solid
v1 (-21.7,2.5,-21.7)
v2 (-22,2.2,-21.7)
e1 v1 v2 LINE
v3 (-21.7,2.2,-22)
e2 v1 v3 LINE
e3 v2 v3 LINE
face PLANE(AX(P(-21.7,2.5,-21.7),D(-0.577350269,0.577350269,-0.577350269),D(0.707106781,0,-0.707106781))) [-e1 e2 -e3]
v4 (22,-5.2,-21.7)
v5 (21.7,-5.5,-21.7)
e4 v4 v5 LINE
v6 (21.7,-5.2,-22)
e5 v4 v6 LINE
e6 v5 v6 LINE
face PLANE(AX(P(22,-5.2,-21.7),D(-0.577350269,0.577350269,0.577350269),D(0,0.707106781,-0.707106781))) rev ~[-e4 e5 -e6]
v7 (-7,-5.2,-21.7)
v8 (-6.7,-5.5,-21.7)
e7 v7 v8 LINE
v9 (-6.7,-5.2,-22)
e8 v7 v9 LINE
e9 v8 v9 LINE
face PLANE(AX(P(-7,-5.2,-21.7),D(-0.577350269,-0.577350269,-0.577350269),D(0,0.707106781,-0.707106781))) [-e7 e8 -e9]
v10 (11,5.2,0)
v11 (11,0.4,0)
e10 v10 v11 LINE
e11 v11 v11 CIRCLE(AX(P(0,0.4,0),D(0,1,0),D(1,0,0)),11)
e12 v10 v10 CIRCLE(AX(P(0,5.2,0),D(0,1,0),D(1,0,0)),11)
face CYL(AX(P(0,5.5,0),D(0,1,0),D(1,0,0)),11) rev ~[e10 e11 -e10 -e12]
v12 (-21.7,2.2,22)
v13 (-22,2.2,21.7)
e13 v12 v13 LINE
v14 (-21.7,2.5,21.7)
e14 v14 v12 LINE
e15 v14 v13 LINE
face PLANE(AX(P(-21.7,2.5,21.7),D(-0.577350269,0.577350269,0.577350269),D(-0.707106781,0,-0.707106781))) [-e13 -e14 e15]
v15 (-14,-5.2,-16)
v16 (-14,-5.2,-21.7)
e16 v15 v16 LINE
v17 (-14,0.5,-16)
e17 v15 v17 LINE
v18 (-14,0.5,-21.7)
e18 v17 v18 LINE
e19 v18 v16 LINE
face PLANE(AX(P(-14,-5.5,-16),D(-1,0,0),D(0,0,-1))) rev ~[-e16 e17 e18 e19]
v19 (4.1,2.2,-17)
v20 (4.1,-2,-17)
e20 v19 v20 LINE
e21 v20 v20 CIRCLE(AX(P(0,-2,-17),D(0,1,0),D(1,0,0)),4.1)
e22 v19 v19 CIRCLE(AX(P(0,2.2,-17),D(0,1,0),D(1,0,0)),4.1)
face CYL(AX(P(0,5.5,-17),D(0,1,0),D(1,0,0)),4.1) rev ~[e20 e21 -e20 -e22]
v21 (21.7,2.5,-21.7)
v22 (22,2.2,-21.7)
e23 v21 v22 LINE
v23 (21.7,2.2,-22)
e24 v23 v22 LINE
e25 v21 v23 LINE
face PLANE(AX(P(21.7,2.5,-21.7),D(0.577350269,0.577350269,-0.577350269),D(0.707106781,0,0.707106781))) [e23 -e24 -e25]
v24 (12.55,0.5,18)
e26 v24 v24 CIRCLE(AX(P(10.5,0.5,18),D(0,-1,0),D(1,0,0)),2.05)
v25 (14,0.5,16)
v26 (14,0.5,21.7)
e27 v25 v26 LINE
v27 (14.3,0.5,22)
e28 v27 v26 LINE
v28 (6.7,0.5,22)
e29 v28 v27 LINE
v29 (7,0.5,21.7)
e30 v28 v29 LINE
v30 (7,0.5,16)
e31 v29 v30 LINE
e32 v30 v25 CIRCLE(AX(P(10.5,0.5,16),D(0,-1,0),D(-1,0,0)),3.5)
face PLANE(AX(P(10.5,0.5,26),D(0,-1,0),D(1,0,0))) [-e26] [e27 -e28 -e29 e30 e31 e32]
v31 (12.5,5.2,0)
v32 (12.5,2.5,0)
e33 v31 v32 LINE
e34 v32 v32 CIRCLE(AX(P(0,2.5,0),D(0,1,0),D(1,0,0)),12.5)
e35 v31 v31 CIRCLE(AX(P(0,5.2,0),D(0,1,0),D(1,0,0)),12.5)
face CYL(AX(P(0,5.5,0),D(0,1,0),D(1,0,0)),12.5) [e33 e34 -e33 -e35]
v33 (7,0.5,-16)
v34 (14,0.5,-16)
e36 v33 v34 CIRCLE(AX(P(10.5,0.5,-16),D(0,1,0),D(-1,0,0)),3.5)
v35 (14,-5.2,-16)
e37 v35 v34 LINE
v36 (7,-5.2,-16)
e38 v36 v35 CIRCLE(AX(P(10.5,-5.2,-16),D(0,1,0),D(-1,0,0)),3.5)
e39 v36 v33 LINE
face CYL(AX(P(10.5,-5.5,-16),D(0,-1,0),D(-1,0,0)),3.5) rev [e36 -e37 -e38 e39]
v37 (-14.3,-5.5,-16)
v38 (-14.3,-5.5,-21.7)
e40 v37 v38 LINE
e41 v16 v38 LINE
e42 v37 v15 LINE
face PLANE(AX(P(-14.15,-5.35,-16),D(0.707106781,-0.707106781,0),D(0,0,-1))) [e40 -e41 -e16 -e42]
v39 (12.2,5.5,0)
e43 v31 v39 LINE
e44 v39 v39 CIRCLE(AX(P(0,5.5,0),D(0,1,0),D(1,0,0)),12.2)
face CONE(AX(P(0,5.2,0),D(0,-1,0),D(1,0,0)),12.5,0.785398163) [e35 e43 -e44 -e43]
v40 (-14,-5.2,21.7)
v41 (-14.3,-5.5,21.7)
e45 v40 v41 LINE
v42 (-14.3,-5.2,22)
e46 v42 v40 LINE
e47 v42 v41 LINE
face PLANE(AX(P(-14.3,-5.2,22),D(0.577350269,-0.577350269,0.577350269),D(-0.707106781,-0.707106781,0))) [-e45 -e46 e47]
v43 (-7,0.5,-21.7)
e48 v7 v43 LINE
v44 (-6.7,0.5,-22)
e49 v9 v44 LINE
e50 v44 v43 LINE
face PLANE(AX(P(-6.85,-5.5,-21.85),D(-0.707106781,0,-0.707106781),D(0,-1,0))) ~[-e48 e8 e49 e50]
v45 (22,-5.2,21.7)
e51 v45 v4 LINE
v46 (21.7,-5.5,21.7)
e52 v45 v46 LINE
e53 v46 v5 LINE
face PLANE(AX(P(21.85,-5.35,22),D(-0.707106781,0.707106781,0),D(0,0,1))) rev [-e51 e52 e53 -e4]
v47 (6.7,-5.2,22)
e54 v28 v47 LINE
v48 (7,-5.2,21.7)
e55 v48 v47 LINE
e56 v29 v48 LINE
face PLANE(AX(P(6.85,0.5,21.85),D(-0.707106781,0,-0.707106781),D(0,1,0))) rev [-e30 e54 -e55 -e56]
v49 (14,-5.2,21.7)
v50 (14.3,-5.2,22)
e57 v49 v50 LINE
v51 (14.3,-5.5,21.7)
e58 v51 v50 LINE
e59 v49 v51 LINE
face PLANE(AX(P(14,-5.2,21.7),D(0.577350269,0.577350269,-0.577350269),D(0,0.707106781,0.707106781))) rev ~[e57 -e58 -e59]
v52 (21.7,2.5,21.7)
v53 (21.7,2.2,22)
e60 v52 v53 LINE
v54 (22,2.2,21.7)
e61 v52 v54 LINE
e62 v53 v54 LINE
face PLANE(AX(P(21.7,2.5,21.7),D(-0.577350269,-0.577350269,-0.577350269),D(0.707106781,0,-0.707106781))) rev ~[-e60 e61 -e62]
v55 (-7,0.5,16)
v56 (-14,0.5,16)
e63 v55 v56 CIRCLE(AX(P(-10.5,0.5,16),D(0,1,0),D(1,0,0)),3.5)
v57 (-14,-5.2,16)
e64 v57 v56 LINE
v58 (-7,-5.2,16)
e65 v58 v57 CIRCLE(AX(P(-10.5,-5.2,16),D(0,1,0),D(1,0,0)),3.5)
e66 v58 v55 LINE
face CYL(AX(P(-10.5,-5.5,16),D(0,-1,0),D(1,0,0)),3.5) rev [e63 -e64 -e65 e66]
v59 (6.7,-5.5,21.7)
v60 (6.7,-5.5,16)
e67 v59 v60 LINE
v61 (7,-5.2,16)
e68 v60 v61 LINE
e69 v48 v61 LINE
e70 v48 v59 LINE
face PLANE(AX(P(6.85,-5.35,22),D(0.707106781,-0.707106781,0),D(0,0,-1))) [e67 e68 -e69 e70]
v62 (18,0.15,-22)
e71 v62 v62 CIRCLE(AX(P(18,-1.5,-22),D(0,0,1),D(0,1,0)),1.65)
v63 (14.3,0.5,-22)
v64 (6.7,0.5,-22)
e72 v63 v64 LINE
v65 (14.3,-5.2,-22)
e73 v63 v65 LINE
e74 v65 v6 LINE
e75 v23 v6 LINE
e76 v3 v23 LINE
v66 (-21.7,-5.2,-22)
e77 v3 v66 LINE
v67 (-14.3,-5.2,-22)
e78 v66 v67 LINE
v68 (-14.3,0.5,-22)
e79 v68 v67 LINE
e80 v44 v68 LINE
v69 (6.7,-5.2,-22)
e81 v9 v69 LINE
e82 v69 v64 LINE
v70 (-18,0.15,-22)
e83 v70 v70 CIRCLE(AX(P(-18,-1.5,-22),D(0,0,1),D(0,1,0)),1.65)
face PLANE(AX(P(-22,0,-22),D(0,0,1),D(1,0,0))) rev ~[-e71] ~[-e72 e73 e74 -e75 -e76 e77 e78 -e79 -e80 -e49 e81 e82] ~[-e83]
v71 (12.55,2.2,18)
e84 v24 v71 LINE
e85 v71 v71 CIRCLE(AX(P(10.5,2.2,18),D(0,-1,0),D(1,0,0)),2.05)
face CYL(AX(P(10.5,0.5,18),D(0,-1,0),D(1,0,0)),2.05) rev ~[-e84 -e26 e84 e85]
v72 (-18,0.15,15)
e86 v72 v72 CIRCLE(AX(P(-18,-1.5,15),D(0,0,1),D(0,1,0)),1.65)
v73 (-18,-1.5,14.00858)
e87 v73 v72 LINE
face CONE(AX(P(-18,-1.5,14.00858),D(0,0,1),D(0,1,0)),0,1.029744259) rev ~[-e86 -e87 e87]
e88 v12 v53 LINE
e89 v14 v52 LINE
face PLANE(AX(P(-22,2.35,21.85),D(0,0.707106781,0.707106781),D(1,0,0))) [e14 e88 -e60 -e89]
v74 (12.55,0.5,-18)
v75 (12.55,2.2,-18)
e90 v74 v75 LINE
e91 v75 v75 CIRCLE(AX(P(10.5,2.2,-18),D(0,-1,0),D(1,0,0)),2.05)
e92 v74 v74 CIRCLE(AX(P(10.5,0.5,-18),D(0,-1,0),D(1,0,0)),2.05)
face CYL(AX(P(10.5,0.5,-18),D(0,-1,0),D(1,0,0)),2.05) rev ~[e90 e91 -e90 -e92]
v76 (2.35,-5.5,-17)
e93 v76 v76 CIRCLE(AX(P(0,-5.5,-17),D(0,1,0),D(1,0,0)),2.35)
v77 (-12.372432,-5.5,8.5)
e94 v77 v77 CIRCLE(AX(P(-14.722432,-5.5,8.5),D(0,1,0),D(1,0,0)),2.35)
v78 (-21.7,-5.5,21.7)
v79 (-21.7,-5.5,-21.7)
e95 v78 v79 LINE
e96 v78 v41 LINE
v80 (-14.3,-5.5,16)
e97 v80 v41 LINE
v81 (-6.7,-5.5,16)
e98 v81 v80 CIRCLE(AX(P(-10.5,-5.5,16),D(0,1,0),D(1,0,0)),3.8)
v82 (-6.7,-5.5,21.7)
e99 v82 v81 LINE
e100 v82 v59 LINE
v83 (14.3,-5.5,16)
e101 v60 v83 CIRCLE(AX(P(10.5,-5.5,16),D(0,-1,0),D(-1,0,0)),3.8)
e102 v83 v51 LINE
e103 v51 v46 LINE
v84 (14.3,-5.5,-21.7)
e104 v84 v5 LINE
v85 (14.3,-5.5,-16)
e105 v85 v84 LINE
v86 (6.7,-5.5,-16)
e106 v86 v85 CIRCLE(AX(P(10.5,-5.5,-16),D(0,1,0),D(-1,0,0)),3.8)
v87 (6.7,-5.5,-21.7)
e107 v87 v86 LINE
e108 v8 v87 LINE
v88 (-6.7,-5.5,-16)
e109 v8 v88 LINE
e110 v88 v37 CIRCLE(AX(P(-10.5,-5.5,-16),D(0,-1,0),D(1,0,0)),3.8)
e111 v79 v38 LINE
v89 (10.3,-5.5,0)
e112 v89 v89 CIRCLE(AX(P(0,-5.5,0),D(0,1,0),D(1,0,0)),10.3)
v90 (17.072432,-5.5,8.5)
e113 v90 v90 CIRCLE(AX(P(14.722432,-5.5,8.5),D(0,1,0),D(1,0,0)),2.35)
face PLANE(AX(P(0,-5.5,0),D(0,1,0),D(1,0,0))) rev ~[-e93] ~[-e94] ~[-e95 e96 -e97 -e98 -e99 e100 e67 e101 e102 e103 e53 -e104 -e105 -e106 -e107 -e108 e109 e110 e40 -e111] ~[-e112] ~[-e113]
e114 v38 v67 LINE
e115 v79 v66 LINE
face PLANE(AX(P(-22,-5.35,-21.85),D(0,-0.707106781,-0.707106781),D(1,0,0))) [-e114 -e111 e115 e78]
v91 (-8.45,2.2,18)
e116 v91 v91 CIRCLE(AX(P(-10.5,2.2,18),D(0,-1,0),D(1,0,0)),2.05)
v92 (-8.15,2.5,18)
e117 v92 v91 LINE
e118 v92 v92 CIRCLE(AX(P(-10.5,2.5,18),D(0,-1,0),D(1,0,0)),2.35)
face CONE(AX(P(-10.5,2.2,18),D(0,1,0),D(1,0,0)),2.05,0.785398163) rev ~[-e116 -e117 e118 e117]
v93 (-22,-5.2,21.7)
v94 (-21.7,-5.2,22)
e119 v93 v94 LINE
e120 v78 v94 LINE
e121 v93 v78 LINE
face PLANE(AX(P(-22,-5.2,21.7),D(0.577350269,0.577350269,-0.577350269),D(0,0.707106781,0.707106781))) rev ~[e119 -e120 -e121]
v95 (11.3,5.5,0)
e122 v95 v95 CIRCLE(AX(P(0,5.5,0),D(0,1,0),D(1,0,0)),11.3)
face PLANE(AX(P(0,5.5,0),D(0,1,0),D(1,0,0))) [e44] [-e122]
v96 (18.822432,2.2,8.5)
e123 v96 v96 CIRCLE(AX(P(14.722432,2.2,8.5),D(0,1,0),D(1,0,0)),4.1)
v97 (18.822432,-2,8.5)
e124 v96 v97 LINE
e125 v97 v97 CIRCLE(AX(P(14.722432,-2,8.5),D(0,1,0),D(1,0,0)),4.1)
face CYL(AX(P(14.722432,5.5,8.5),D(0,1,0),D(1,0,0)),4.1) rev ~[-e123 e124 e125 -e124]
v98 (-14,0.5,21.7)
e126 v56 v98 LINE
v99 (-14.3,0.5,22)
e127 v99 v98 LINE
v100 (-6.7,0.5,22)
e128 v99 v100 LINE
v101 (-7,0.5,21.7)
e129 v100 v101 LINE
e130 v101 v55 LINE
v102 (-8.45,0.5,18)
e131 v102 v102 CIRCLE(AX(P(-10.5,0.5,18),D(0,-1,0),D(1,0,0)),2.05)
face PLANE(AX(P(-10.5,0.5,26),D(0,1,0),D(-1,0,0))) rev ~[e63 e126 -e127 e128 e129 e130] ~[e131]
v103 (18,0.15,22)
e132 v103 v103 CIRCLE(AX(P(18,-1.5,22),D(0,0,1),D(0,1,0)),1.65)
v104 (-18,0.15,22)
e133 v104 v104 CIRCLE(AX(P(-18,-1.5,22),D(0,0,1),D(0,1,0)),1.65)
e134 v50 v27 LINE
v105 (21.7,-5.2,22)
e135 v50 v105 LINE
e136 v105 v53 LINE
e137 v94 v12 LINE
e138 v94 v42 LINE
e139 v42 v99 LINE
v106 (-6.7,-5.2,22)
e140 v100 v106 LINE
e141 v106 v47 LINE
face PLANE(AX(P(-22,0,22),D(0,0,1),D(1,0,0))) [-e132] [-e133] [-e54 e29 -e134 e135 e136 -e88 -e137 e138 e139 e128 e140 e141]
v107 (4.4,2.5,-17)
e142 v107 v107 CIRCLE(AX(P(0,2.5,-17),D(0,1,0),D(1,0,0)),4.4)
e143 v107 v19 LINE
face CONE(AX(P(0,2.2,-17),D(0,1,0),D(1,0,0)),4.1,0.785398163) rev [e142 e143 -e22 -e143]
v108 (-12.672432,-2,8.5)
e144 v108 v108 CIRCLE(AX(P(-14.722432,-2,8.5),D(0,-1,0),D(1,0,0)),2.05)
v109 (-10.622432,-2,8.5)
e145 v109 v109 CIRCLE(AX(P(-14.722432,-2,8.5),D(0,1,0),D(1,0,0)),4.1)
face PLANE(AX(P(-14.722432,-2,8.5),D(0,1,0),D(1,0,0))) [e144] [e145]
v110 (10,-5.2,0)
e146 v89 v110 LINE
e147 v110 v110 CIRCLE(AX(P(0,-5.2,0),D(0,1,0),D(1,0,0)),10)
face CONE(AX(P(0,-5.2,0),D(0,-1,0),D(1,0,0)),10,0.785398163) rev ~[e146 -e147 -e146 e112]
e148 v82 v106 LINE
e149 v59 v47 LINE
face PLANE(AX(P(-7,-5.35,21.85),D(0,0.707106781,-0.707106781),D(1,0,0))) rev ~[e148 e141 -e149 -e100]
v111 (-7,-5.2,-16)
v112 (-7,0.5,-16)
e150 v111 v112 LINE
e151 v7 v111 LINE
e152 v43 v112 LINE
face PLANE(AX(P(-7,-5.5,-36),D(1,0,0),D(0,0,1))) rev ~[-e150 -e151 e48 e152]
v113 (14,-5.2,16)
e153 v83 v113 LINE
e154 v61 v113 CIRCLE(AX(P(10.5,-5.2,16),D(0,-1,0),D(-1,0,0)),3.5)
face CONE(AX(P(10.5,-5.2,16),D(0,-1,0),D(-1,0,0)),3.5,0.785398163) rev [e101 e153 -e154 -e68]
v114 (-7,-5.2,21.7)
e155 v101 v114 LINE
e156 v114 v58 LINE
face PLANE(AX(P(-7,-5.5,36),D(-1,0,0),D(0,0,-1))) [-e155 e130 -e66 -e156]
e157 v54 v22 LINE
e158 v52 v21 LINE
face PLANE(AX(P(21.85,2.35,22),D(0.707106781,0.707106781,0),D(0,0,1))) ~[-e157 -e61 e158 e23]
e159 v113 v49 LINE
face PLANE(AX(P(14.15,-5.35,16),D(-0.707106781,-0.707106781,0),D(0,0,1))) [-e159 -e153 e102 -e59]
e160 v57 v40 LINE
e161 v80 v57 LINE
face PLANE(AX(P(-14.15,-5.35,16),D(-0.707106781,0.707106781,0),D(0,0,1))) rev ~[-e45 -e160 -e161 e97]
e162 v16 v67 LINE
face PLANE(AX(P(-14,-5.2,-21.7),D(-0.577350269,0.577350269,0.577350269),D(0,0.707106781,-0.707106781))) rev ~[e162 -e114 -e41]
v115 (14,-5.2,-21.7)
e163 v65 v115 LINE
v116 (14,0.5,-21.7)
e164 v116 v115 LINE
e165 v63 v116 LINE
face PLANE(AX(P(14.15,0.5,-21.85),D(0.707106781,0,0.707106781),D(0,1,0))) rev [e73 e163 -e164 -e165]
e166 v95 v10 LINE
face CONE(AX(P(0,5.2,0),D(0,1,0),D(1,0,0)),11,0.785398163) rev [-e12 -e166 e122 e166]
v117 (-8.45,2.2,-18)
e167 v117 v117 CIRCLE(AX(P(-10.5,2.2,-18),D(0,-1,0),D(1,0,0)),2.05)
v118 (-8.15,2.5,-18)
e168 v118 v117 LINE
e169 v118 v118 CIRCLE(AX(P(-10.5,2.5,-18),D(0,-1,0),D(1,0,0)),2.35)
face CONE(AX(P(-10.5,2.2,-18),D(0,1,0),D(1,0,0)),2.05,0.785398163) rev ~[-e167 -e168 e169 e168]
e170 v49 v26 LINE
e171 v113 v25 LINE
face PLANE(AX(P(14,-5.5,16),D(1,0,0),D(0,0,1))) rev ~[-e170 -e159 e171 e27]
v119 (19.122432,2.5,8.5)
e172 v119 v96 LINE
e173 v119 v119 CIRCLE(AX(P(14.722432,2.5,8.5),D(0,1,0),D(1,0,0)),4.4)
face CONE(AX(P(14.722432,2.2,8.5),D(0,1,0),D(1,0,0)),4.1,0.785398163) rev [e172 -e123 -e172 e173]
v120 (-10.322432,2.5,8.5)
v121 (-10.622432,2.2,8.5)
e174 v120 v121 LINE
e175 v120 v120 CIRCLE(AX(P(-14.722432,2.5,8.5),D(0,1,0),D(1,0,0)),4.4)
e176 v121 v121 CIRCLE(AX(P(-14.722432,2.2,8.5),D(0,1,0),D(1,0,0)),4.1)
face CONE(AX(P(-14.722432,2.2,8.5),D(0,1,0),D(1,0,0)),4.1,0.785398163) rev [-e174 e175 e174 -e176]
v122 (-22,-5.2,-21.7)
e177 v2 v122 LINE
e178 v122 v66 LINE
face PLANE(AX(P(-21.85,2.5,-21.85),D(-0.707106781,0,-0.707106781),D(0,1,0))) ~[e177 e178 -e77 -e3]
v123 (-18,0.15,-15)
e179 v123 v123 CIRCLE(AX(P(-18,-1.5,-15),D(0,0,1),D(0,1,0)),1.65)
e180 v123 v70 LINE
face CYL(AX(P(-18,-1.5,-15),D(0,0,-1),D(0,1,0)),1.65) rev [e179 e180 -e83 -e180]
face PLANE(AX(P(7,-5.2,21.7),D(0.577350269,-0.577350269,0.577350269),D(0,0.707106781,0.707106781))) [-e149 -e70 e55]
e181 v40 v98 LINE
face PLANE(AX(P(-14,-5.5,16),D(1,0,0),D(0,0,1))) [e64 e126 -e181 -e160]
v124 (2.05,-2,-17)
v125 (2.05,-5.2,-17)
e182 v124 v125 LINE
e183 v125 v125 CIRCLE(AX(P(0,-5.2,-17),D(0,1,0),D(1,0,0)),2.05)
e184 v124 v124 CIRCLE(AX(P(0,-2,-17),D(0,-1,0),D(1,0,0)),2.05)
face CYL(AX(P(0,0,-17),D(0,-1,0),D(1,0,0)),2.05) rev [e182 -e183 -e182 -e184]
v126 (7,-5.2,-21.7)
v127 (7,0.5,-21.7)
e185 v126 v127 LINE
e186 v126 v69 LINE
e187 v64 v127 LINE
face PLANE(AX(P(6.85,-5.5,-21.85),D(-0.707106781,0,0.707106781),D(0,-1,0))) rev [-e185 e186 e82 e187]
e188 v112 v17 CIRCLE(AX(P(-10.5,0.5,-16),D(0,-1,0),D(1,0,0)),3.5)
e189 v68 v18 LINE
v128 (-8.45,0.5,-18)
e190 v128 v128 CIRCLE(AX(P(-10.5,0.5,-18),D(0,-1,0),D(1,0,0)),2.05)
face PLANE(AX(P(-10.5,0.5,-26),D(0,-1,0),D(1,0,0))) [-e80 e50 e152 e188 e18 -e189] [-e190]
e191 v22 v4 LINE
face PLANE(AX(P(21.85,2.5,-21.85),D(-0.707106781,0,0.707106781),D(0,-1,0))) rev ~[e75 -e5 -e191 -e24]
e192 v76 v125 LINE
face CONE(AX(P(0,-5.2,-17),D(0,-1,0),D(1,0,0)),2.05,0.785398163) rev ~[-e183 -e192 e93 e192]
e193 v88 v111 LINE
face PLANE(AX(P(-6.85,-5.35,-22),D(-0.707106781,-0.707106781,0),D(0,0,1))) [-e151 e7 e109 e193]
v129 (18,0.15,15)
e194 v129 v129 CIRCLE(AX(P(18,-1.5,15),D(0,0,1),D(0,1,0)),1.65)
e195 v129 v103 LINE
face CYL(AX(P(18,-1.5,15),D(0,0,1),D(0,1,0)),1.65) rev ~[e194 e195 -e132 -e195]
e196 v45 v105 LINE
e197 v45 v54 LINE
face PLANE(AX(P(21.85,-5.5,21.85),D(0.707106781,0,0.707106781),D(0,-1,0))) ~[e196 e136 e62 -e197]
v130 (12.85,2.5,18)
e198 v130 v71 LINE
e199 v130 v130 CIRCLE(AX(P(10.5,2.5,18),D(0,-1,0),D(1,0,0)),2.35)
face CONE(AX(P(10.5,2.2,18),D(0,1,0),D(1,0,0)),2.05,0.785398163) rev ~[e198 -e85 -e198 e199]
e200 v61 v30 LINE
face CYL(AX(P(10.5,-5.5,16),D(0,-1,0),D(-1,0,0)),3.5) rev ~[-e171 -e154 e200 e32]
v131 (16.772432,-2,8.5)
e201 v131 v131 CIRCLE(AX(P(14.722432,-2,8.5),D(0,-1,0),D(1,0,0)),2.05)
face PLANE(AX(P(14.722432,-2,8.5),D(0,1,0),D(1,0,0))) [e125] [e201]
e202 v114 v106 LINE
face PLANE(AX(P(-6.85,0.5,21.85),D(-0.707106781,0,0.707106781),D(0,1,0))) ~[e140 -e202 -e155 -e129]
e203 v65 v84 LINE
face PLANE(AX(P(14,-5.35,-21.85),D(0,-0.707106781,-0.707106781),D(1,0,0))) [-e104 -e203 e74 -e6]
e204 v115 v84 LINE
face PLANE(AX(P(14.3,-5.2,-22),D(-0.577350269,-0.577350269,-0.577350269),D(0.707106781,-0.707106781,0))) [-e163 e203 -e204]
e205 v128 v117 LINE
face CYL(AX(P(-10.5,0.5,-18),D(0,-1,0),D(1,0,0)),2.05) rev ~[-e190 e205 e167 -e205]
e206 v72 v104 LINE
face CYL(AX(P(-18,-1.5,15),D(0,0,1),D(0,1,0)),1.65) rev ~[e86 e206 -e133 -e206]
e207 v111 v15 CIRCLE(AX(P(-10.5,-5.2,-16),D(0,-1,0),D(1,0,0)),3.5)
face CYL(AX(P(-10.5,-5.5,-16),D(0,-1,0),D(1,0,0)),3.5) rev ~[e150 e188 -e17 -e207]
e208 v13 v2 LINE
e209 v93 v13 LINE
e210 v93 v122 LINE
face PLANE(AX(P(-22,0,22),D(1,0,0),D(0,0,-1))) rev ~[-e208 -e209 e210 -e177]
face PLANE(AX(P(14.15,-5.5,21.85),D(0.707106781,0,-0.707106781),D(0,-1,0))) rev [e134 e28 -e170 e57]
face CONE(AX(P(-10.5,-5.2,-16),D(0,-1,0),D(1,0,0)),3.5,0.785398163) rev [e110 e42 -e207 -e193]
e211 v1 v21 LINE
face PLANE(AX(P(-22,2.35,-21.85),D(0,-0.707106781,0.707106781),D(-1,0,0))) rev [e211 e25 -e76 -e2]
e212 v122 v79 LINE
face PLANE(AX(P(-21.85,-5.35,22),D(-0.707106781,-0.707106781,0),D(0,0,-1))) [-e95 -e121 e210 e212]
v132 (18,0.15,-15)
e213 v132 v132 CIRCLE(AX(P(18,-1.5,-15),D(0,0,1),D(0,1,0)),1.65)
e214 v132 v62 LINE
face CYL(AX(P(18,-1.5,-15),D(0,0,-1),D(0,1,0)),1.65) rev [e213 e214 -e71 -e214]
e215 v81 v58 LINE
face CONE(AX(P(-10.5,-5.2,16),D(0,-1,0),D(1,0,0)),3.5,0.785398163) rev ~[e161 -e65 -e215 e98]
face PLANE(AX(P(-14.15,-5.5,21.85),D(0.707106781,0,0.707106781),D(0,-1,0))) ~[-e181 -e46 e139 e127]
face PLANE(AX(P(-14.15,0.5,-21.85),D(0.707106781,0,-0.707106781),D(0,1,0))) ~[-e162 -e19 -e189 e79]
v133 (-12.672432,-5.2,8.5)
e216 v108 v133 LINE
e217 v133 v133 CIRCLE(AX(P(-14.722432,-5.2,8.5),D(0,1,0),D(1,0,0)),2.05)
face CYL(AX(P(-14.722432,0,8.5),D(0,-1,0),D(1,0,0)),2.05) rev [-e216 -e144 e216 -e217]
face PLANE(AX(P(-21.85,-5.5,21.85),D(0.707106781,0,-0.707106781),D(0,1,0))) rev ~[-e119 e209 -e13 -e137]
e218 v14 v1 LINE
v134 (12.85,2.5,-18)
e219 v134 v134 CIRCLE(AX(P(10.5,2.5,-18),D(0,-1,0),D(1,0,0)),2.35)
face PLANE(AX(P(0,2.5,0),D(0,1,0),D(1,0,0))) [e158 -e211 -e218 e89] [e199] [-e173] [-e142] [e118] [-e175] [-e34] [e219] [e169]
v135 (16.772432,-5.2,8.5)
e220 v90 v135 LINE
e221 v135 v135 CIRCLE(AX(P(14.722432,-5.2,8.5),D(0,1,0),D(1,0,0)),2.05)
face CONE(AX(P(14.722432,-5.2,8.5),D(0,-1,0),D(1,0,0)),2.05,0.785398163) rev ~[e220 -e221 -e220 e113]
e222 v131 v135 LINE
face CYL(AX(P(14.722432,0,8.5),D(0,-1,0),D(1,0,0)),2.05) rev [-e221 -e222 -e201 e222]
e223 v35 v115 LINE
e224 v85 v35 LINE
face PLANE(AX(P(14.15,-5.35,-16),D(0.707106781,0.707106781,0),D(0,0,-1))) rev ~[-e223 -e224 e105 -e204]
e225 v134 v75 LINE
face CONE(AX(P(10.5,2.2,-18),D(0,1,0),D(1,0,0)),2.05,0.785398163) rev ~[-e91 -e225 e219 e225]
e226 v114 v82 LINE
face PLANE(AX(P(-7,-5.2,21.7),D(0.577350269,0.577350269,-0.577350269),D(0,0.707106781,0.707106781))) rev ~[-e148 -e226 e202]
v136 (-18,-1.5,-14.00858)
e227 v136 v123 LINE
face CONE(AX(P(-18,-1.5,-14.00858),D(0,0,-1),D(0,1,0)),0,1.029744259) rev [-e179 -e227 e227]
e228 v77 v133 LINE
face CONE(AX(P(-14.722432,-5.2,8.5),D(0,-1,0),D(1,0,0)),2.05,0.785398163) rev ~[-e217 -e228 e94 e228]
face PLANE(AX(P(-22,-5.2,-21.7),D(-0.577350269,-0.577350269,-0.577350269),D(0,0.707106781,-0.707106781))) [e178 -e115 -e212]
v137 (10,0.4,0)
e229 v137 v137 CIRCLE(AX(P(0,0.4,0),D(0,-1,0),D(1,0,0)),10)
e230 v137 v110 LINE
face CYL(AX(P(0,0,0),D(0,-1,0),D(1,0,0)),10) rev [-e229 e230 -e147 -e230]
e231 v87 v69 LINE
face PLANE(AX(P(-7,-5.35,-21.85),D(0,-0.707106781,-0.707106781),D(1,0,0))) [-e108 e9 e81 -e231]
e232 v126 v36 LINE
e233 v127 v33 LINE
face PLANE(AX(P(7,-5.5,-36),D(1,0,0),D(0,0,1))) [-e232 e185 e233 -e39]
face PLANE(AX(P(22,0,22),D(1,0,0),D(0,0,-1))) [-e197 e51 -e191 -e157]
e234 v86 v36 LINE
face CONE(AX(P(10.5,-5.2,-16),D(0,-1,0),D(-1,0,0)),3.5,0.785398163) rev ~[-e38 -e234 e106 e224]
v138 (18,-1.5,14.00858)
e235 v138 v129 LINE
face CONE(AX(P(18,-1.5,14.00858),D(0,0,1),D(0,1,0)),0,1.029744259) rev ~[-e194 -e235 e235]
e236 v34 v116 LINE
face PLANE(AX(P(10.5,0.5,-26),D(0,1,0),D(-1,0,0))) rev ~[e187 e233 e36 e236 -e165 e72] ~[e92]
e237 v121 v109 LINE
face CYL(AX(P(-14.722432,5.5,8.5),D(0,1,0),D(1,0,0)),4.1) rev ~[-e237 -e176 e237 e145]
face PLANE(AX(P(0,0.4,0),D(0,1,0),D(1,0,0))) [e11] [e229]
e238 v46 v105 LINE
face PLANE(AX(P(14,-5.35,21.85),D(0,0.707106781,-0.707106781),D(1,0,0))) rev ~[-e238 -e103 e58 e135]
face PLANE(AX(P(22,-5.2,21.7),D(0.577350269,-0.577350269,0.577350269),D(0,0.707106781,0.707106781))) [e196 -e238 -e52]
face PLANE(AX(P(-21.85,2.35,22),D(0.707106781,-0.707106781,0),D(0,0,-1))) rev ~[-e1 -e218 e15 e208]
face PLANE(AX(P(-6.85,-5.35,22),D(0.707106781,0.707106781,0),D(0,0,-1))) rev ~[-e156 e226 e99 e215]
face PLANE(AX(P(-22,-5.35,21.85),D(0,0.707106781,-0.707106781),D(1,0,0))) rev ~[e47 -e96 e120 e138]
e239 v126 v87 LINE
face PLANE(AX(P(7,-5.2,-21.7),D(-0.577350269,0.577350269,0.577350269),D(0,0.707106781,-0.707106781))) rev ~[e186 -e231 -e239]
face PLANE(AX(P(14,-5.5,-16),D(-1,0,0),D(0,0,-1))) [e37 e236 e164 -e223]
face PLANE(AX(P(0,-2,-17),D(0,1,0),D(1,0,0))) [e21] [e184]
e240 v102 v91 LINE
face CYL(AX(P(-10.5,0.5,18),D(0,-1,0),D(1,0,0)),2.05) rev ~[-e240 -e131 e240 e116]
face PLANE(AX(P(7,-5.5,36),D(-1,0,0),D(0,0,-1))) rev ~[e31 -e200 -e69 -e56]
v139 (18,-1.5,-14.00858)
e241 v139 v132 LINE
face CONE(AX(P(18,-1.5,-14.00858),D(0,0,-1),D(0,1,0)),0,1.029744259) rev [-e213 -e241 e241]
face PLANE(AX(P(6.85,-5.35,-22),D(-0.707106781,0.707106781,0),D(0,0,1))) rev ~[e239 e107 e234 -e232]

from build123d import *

# Parameters (mm, degrees)
SKETCH1_W                      = 44
SKETCH1_H                      = 44
SKETCH1_R                      = 2.05
SKETCH1_R_2                    = 10
BOSS_EXTRUDE1_DEPTH            = 5.5
SKETCH3_R                      = 11
CUT_EXTRUDE1_DEPTH             = 5.1
M4X0_7_TAPPED_HOLE1_AT_2_COUNT = 2
M4X0_7_TAPPED_HOLE1_AT_2_PITCH = 36
SKETCH6_R                      = 4.1
CUT_EXTRUDE2_DEPTH             = 7.5
SKETCH7_W                      = 44
SKETCH7_H                      = 44
SKETCH7_R                      = 12.5
SKETCH7_R_2                    = 4.1
CUT_EXTRUDE3_DEPTH             = 3
CUT_EXTRUDE_1_DEPTH            = 6
SKETCH_2_R                     = 2.05
CUT_EXTRUDE_2_DEPTH            = 5
CHAMFER_1_SIZE                 = 0.3


with BuildPart() as part:
    # Sketch1 → Boss-Extrude1 (new body, symmetric)
    with BuildSketch(Plane(origin=(0, 0, 0), x_dir=(1, 0, 0), z_dir=(0, 1, 0))):
        Rectangle(SKETCH1_W, SKETCH1_H)
        with Locations((0, 17)):
            Circle(SKETCH1_R, mode=Mode.SUBTRACT)
        with Locations((14.722431864, -8.5)):
            Circle(SKETCH1_R, mode=Mode.SUBTRACT)
        with Locations((-14.722431864, -8.5)):
            Circle(SKETCH1_R, mode=Mode.SUBTRACT)
        Circle(SKETCH1_R_2, mode=Mode.SUBTRACT)
    extrude(amount=BOSS_EXTRUDE1_DEPTH, both=True)

    # Sketch3 → Cut-Extrude1 (cut)
    with BuildSketch(Plane(origin=(0, 5.5, 0), x_dir=(1, 0, 0), z_dir=(0, 1, 0))):
        Circle(SKETCH3_R)
    extrude(amount=-CUT_EXTRUDE1_DEPTH, mode=Mode.SUBTRACT)

    # Sketch5 → M4x0.7 Tapped Hole1 (revolve, cut)
    with BuildSketch(Plane(origin=(-18, -1.5, -22), x_dir=(0, 1, 0), z_dir=(1, 0, 0))):
        Polygon((0, 0), (0, 7.991420021), (1.65, 7), (1.65, 0), align=None)
    m4x0_7_tapped_hole1 = revolve(axis=Axis((-18, -1.5, -28.35), (0, 0, 1)), mode=Mode.SUBTRACT)

    # M4x0.7 Tapped Hole1 at 2: M4x0.7 Tapped Hole1 ×2
    with Locations(*[(i * M4X0_7_TAPPED_HOLE1_AT_2_PITCH, 0, 0) for i in range(1, M4X0_7_TAPPED_HOLE1_AT_2_COUNT)]):
        add(m4x0_7_tapped_hole1, mode=Mode.SUBTRACT)

    # Mirror1: M4x0.7 Tapped Hole1 across plane
    add(m4x0_7_tapped_hole1.mirror(Plane.XY), mode=Mode.SUBTRACT)

    # Mirror1 copy 1 sketch → Mirror1 copy 1 (revolve, cut)
    with BuildSketch(Plane(origin=(18, -1.5, 22), x_dir=(0, 1, 0), z_dir=(1, 0, 0))):
        Polygon((0, 0), (0, -7.991420021), (1.65, -7), (1.65, 0), align=None)
    revolve(axis=Axis((18, -1.5, 28.35), (0, 0, 1)), mode=Mode.SUBTRACT)

    # Sketch6 → Cut-Extrude2 (cut)
    with BuildSketch(Plane(origin=(0, 5.5, 0), x_dir=(1, 0, 0), z_dir=(0, 1, 0))):
        with Locations((-14.722431864, -8.5)):
            Circle(SKETCH6_R)
        with Locations((0, 17)):
            Circle(SKETCH6_R)
        with Locations((14.722431864, -8.5)):
            Circle(SKETCH6_R)
    extrude(amount=-CUT_EXTRUDE2_DEPTH, mode=Mode.SUBTRACT)

    # Sketch7 → Cut-Extrude3 (cut)
    with BuildSketch(Plane(origin=(0, 5.5, 0), x_dir=(1, 0, 0), z_dir=(0, 1, 0))):
        Rectangle(SKETCH7_W, SKETCH7_H)
        Circle(SKETCH7_R, mode=Mode.SUBTRACT)
        with Locations((14.722431864, -8.5)):
            Circle(SKETCH7_R_2, mode=Mode.SUBTRACT)
        with Locations((0, 17)):
            Circle(SKETCH7_R_2, mode=Mode.SUBTRACT)
        with Locations((-14.722431864, -8.5)):
            Circle(SKETCH7_R_2, mode=Mode.SUBTRACT)
    extrude(amount=-CUT_EXTRUDE3_DEPTH, mode=Mode.SUBTRACT)

    # 草图1 → 切除-拉伸1 (cut)
    with BuildSketch(Plane.XZ.offset(5.5)):
        with BuildLine():
            Line((7, -36), (7, -16))
            ThreePointArc((7, -16), (10.5, -12.5), (14, -16))
            Line((14, -16), (14, -36))
            ThreePointArc((14, -36), (10.5, -39.5), (7, -36))
        make_face()
        with BuildLine():
            Line((-7, -36), (-7, -16))
            ThreePointArc((-7, -16), (-10.5, -12.5), (-14, -16))
            Line((-14, -16), (-14, -36))
            ThreePointArc((-14, -36), (-10.5, -39.5), (-7, -36))
        make_face()
        with BuildLine():
            Line((-7, 36), (-7, 16))
            ThreePointArc((-7, 16), (-10.5, 12.5), (-14, 16))
            Line((-14, 16), (-14, 36))
            ThreePointArc((-14, 36), (-10.5, 39.5), (-7, 36))
        make_face()
        with BuildLine():
            Line((7, 36), (7, 16))
            ThreePointArc((7, 16), (10.5, 12.5), (14, 16))
            Line((14, 16), (14, 36))
            ThreePointArc((14, 36), (10.5, 39.5), (7, 36))
        make_face()
    extrude(amount=-CUT_EXTRUDE_1_DEPTH, mode=Mode.SUBTRACT)

    # 草图2 → 切除-拉伸2 (cut)
    with BuildSketch(Plane.XZ.offset(-0.5)):
        with Locations((10.5, 18)):
            Circle(SKETCH_2_R)
        with Locations((-10.5, 18)):
            Circle(SKETCH_2_R)
        with Locations((-10.5, -18)):
            Circle(SKETCH_2_R)
        with Locations((10.5, -18)):
            Circle(SKETCH_2_R)
    extrude(amount=-CUT_EXTRUDE_2_DEPTH, mode=Mode.SUBTRACT)

    # 倒角1
    chamfer_1_edges = [part.edges().sort_by_distance(p)[0] for p in [
        (0, -5.5, 22),
        (18, -5.5, 22),
        (0, -5.5, -22),
        (-18, -5.5, -22),
        (14, -5.5, -19),
        (-7, -5.5, -19),
        (-14, -5.5, 19),
        (7, -5.5, 19),
        (10.5, -5.5, 12.5),
        (14, -5.5, 19),
        (14, -2.5, 22),
        (7, -2.5, 22),
        (-7, -5.5, 19),
        (-10, -5.5, 0),
        (-10.5, -5.5, 12.5),
        (-7, -2.5, 22),
        (-14, -2.5, 22),
        (-10.5, -5.5, -12.5),
        (-14, -5.5, -19),
        (-14, -2.5, -22),
        (-7, -2.5, -22),
        (7, -5.5, -19),
        (10.5, -5.5, -12.5),
        (7, -2.5, -22),
        (14, -2.5, -22),
        (-2.05, -5.5, -17),
        (8.45, 2.5, -18),
        (-12.55, 2.5, -18),
        (-12.55, 2.5, 18),
        (8.45, 2.5, 18),
        (12.672431864, -5.5, 8.5),
        (-16.772431864, -5.5, 8.5),
        (-11, 5.5, 0),
        (-18, -5.5, 22),
        (-22, -5.5, 0),
        (18, -5.5, -22),
        (22, -5.5, 0),
        (22, -1.5, 22),
        (-22, -1.5, 22),
        (-22, -1.5, -22),
        (22, -1.5, -22),
        (0, 2.5, 22),
        (-22, 2.5, 0),
        (0, 2.5, -22),
        (-4.1, 2.5, -17),
        (22, 2.5, 0),
        (10.622431864, 2.5, 8.5),
        (-12.5, 5.5, 0),
        (-18.822431864, 2.5, 8.5),
    ]]
    chamfer(chamfer_1_edges, length=CHAMFER_1_SIZE)


solid = part.part
